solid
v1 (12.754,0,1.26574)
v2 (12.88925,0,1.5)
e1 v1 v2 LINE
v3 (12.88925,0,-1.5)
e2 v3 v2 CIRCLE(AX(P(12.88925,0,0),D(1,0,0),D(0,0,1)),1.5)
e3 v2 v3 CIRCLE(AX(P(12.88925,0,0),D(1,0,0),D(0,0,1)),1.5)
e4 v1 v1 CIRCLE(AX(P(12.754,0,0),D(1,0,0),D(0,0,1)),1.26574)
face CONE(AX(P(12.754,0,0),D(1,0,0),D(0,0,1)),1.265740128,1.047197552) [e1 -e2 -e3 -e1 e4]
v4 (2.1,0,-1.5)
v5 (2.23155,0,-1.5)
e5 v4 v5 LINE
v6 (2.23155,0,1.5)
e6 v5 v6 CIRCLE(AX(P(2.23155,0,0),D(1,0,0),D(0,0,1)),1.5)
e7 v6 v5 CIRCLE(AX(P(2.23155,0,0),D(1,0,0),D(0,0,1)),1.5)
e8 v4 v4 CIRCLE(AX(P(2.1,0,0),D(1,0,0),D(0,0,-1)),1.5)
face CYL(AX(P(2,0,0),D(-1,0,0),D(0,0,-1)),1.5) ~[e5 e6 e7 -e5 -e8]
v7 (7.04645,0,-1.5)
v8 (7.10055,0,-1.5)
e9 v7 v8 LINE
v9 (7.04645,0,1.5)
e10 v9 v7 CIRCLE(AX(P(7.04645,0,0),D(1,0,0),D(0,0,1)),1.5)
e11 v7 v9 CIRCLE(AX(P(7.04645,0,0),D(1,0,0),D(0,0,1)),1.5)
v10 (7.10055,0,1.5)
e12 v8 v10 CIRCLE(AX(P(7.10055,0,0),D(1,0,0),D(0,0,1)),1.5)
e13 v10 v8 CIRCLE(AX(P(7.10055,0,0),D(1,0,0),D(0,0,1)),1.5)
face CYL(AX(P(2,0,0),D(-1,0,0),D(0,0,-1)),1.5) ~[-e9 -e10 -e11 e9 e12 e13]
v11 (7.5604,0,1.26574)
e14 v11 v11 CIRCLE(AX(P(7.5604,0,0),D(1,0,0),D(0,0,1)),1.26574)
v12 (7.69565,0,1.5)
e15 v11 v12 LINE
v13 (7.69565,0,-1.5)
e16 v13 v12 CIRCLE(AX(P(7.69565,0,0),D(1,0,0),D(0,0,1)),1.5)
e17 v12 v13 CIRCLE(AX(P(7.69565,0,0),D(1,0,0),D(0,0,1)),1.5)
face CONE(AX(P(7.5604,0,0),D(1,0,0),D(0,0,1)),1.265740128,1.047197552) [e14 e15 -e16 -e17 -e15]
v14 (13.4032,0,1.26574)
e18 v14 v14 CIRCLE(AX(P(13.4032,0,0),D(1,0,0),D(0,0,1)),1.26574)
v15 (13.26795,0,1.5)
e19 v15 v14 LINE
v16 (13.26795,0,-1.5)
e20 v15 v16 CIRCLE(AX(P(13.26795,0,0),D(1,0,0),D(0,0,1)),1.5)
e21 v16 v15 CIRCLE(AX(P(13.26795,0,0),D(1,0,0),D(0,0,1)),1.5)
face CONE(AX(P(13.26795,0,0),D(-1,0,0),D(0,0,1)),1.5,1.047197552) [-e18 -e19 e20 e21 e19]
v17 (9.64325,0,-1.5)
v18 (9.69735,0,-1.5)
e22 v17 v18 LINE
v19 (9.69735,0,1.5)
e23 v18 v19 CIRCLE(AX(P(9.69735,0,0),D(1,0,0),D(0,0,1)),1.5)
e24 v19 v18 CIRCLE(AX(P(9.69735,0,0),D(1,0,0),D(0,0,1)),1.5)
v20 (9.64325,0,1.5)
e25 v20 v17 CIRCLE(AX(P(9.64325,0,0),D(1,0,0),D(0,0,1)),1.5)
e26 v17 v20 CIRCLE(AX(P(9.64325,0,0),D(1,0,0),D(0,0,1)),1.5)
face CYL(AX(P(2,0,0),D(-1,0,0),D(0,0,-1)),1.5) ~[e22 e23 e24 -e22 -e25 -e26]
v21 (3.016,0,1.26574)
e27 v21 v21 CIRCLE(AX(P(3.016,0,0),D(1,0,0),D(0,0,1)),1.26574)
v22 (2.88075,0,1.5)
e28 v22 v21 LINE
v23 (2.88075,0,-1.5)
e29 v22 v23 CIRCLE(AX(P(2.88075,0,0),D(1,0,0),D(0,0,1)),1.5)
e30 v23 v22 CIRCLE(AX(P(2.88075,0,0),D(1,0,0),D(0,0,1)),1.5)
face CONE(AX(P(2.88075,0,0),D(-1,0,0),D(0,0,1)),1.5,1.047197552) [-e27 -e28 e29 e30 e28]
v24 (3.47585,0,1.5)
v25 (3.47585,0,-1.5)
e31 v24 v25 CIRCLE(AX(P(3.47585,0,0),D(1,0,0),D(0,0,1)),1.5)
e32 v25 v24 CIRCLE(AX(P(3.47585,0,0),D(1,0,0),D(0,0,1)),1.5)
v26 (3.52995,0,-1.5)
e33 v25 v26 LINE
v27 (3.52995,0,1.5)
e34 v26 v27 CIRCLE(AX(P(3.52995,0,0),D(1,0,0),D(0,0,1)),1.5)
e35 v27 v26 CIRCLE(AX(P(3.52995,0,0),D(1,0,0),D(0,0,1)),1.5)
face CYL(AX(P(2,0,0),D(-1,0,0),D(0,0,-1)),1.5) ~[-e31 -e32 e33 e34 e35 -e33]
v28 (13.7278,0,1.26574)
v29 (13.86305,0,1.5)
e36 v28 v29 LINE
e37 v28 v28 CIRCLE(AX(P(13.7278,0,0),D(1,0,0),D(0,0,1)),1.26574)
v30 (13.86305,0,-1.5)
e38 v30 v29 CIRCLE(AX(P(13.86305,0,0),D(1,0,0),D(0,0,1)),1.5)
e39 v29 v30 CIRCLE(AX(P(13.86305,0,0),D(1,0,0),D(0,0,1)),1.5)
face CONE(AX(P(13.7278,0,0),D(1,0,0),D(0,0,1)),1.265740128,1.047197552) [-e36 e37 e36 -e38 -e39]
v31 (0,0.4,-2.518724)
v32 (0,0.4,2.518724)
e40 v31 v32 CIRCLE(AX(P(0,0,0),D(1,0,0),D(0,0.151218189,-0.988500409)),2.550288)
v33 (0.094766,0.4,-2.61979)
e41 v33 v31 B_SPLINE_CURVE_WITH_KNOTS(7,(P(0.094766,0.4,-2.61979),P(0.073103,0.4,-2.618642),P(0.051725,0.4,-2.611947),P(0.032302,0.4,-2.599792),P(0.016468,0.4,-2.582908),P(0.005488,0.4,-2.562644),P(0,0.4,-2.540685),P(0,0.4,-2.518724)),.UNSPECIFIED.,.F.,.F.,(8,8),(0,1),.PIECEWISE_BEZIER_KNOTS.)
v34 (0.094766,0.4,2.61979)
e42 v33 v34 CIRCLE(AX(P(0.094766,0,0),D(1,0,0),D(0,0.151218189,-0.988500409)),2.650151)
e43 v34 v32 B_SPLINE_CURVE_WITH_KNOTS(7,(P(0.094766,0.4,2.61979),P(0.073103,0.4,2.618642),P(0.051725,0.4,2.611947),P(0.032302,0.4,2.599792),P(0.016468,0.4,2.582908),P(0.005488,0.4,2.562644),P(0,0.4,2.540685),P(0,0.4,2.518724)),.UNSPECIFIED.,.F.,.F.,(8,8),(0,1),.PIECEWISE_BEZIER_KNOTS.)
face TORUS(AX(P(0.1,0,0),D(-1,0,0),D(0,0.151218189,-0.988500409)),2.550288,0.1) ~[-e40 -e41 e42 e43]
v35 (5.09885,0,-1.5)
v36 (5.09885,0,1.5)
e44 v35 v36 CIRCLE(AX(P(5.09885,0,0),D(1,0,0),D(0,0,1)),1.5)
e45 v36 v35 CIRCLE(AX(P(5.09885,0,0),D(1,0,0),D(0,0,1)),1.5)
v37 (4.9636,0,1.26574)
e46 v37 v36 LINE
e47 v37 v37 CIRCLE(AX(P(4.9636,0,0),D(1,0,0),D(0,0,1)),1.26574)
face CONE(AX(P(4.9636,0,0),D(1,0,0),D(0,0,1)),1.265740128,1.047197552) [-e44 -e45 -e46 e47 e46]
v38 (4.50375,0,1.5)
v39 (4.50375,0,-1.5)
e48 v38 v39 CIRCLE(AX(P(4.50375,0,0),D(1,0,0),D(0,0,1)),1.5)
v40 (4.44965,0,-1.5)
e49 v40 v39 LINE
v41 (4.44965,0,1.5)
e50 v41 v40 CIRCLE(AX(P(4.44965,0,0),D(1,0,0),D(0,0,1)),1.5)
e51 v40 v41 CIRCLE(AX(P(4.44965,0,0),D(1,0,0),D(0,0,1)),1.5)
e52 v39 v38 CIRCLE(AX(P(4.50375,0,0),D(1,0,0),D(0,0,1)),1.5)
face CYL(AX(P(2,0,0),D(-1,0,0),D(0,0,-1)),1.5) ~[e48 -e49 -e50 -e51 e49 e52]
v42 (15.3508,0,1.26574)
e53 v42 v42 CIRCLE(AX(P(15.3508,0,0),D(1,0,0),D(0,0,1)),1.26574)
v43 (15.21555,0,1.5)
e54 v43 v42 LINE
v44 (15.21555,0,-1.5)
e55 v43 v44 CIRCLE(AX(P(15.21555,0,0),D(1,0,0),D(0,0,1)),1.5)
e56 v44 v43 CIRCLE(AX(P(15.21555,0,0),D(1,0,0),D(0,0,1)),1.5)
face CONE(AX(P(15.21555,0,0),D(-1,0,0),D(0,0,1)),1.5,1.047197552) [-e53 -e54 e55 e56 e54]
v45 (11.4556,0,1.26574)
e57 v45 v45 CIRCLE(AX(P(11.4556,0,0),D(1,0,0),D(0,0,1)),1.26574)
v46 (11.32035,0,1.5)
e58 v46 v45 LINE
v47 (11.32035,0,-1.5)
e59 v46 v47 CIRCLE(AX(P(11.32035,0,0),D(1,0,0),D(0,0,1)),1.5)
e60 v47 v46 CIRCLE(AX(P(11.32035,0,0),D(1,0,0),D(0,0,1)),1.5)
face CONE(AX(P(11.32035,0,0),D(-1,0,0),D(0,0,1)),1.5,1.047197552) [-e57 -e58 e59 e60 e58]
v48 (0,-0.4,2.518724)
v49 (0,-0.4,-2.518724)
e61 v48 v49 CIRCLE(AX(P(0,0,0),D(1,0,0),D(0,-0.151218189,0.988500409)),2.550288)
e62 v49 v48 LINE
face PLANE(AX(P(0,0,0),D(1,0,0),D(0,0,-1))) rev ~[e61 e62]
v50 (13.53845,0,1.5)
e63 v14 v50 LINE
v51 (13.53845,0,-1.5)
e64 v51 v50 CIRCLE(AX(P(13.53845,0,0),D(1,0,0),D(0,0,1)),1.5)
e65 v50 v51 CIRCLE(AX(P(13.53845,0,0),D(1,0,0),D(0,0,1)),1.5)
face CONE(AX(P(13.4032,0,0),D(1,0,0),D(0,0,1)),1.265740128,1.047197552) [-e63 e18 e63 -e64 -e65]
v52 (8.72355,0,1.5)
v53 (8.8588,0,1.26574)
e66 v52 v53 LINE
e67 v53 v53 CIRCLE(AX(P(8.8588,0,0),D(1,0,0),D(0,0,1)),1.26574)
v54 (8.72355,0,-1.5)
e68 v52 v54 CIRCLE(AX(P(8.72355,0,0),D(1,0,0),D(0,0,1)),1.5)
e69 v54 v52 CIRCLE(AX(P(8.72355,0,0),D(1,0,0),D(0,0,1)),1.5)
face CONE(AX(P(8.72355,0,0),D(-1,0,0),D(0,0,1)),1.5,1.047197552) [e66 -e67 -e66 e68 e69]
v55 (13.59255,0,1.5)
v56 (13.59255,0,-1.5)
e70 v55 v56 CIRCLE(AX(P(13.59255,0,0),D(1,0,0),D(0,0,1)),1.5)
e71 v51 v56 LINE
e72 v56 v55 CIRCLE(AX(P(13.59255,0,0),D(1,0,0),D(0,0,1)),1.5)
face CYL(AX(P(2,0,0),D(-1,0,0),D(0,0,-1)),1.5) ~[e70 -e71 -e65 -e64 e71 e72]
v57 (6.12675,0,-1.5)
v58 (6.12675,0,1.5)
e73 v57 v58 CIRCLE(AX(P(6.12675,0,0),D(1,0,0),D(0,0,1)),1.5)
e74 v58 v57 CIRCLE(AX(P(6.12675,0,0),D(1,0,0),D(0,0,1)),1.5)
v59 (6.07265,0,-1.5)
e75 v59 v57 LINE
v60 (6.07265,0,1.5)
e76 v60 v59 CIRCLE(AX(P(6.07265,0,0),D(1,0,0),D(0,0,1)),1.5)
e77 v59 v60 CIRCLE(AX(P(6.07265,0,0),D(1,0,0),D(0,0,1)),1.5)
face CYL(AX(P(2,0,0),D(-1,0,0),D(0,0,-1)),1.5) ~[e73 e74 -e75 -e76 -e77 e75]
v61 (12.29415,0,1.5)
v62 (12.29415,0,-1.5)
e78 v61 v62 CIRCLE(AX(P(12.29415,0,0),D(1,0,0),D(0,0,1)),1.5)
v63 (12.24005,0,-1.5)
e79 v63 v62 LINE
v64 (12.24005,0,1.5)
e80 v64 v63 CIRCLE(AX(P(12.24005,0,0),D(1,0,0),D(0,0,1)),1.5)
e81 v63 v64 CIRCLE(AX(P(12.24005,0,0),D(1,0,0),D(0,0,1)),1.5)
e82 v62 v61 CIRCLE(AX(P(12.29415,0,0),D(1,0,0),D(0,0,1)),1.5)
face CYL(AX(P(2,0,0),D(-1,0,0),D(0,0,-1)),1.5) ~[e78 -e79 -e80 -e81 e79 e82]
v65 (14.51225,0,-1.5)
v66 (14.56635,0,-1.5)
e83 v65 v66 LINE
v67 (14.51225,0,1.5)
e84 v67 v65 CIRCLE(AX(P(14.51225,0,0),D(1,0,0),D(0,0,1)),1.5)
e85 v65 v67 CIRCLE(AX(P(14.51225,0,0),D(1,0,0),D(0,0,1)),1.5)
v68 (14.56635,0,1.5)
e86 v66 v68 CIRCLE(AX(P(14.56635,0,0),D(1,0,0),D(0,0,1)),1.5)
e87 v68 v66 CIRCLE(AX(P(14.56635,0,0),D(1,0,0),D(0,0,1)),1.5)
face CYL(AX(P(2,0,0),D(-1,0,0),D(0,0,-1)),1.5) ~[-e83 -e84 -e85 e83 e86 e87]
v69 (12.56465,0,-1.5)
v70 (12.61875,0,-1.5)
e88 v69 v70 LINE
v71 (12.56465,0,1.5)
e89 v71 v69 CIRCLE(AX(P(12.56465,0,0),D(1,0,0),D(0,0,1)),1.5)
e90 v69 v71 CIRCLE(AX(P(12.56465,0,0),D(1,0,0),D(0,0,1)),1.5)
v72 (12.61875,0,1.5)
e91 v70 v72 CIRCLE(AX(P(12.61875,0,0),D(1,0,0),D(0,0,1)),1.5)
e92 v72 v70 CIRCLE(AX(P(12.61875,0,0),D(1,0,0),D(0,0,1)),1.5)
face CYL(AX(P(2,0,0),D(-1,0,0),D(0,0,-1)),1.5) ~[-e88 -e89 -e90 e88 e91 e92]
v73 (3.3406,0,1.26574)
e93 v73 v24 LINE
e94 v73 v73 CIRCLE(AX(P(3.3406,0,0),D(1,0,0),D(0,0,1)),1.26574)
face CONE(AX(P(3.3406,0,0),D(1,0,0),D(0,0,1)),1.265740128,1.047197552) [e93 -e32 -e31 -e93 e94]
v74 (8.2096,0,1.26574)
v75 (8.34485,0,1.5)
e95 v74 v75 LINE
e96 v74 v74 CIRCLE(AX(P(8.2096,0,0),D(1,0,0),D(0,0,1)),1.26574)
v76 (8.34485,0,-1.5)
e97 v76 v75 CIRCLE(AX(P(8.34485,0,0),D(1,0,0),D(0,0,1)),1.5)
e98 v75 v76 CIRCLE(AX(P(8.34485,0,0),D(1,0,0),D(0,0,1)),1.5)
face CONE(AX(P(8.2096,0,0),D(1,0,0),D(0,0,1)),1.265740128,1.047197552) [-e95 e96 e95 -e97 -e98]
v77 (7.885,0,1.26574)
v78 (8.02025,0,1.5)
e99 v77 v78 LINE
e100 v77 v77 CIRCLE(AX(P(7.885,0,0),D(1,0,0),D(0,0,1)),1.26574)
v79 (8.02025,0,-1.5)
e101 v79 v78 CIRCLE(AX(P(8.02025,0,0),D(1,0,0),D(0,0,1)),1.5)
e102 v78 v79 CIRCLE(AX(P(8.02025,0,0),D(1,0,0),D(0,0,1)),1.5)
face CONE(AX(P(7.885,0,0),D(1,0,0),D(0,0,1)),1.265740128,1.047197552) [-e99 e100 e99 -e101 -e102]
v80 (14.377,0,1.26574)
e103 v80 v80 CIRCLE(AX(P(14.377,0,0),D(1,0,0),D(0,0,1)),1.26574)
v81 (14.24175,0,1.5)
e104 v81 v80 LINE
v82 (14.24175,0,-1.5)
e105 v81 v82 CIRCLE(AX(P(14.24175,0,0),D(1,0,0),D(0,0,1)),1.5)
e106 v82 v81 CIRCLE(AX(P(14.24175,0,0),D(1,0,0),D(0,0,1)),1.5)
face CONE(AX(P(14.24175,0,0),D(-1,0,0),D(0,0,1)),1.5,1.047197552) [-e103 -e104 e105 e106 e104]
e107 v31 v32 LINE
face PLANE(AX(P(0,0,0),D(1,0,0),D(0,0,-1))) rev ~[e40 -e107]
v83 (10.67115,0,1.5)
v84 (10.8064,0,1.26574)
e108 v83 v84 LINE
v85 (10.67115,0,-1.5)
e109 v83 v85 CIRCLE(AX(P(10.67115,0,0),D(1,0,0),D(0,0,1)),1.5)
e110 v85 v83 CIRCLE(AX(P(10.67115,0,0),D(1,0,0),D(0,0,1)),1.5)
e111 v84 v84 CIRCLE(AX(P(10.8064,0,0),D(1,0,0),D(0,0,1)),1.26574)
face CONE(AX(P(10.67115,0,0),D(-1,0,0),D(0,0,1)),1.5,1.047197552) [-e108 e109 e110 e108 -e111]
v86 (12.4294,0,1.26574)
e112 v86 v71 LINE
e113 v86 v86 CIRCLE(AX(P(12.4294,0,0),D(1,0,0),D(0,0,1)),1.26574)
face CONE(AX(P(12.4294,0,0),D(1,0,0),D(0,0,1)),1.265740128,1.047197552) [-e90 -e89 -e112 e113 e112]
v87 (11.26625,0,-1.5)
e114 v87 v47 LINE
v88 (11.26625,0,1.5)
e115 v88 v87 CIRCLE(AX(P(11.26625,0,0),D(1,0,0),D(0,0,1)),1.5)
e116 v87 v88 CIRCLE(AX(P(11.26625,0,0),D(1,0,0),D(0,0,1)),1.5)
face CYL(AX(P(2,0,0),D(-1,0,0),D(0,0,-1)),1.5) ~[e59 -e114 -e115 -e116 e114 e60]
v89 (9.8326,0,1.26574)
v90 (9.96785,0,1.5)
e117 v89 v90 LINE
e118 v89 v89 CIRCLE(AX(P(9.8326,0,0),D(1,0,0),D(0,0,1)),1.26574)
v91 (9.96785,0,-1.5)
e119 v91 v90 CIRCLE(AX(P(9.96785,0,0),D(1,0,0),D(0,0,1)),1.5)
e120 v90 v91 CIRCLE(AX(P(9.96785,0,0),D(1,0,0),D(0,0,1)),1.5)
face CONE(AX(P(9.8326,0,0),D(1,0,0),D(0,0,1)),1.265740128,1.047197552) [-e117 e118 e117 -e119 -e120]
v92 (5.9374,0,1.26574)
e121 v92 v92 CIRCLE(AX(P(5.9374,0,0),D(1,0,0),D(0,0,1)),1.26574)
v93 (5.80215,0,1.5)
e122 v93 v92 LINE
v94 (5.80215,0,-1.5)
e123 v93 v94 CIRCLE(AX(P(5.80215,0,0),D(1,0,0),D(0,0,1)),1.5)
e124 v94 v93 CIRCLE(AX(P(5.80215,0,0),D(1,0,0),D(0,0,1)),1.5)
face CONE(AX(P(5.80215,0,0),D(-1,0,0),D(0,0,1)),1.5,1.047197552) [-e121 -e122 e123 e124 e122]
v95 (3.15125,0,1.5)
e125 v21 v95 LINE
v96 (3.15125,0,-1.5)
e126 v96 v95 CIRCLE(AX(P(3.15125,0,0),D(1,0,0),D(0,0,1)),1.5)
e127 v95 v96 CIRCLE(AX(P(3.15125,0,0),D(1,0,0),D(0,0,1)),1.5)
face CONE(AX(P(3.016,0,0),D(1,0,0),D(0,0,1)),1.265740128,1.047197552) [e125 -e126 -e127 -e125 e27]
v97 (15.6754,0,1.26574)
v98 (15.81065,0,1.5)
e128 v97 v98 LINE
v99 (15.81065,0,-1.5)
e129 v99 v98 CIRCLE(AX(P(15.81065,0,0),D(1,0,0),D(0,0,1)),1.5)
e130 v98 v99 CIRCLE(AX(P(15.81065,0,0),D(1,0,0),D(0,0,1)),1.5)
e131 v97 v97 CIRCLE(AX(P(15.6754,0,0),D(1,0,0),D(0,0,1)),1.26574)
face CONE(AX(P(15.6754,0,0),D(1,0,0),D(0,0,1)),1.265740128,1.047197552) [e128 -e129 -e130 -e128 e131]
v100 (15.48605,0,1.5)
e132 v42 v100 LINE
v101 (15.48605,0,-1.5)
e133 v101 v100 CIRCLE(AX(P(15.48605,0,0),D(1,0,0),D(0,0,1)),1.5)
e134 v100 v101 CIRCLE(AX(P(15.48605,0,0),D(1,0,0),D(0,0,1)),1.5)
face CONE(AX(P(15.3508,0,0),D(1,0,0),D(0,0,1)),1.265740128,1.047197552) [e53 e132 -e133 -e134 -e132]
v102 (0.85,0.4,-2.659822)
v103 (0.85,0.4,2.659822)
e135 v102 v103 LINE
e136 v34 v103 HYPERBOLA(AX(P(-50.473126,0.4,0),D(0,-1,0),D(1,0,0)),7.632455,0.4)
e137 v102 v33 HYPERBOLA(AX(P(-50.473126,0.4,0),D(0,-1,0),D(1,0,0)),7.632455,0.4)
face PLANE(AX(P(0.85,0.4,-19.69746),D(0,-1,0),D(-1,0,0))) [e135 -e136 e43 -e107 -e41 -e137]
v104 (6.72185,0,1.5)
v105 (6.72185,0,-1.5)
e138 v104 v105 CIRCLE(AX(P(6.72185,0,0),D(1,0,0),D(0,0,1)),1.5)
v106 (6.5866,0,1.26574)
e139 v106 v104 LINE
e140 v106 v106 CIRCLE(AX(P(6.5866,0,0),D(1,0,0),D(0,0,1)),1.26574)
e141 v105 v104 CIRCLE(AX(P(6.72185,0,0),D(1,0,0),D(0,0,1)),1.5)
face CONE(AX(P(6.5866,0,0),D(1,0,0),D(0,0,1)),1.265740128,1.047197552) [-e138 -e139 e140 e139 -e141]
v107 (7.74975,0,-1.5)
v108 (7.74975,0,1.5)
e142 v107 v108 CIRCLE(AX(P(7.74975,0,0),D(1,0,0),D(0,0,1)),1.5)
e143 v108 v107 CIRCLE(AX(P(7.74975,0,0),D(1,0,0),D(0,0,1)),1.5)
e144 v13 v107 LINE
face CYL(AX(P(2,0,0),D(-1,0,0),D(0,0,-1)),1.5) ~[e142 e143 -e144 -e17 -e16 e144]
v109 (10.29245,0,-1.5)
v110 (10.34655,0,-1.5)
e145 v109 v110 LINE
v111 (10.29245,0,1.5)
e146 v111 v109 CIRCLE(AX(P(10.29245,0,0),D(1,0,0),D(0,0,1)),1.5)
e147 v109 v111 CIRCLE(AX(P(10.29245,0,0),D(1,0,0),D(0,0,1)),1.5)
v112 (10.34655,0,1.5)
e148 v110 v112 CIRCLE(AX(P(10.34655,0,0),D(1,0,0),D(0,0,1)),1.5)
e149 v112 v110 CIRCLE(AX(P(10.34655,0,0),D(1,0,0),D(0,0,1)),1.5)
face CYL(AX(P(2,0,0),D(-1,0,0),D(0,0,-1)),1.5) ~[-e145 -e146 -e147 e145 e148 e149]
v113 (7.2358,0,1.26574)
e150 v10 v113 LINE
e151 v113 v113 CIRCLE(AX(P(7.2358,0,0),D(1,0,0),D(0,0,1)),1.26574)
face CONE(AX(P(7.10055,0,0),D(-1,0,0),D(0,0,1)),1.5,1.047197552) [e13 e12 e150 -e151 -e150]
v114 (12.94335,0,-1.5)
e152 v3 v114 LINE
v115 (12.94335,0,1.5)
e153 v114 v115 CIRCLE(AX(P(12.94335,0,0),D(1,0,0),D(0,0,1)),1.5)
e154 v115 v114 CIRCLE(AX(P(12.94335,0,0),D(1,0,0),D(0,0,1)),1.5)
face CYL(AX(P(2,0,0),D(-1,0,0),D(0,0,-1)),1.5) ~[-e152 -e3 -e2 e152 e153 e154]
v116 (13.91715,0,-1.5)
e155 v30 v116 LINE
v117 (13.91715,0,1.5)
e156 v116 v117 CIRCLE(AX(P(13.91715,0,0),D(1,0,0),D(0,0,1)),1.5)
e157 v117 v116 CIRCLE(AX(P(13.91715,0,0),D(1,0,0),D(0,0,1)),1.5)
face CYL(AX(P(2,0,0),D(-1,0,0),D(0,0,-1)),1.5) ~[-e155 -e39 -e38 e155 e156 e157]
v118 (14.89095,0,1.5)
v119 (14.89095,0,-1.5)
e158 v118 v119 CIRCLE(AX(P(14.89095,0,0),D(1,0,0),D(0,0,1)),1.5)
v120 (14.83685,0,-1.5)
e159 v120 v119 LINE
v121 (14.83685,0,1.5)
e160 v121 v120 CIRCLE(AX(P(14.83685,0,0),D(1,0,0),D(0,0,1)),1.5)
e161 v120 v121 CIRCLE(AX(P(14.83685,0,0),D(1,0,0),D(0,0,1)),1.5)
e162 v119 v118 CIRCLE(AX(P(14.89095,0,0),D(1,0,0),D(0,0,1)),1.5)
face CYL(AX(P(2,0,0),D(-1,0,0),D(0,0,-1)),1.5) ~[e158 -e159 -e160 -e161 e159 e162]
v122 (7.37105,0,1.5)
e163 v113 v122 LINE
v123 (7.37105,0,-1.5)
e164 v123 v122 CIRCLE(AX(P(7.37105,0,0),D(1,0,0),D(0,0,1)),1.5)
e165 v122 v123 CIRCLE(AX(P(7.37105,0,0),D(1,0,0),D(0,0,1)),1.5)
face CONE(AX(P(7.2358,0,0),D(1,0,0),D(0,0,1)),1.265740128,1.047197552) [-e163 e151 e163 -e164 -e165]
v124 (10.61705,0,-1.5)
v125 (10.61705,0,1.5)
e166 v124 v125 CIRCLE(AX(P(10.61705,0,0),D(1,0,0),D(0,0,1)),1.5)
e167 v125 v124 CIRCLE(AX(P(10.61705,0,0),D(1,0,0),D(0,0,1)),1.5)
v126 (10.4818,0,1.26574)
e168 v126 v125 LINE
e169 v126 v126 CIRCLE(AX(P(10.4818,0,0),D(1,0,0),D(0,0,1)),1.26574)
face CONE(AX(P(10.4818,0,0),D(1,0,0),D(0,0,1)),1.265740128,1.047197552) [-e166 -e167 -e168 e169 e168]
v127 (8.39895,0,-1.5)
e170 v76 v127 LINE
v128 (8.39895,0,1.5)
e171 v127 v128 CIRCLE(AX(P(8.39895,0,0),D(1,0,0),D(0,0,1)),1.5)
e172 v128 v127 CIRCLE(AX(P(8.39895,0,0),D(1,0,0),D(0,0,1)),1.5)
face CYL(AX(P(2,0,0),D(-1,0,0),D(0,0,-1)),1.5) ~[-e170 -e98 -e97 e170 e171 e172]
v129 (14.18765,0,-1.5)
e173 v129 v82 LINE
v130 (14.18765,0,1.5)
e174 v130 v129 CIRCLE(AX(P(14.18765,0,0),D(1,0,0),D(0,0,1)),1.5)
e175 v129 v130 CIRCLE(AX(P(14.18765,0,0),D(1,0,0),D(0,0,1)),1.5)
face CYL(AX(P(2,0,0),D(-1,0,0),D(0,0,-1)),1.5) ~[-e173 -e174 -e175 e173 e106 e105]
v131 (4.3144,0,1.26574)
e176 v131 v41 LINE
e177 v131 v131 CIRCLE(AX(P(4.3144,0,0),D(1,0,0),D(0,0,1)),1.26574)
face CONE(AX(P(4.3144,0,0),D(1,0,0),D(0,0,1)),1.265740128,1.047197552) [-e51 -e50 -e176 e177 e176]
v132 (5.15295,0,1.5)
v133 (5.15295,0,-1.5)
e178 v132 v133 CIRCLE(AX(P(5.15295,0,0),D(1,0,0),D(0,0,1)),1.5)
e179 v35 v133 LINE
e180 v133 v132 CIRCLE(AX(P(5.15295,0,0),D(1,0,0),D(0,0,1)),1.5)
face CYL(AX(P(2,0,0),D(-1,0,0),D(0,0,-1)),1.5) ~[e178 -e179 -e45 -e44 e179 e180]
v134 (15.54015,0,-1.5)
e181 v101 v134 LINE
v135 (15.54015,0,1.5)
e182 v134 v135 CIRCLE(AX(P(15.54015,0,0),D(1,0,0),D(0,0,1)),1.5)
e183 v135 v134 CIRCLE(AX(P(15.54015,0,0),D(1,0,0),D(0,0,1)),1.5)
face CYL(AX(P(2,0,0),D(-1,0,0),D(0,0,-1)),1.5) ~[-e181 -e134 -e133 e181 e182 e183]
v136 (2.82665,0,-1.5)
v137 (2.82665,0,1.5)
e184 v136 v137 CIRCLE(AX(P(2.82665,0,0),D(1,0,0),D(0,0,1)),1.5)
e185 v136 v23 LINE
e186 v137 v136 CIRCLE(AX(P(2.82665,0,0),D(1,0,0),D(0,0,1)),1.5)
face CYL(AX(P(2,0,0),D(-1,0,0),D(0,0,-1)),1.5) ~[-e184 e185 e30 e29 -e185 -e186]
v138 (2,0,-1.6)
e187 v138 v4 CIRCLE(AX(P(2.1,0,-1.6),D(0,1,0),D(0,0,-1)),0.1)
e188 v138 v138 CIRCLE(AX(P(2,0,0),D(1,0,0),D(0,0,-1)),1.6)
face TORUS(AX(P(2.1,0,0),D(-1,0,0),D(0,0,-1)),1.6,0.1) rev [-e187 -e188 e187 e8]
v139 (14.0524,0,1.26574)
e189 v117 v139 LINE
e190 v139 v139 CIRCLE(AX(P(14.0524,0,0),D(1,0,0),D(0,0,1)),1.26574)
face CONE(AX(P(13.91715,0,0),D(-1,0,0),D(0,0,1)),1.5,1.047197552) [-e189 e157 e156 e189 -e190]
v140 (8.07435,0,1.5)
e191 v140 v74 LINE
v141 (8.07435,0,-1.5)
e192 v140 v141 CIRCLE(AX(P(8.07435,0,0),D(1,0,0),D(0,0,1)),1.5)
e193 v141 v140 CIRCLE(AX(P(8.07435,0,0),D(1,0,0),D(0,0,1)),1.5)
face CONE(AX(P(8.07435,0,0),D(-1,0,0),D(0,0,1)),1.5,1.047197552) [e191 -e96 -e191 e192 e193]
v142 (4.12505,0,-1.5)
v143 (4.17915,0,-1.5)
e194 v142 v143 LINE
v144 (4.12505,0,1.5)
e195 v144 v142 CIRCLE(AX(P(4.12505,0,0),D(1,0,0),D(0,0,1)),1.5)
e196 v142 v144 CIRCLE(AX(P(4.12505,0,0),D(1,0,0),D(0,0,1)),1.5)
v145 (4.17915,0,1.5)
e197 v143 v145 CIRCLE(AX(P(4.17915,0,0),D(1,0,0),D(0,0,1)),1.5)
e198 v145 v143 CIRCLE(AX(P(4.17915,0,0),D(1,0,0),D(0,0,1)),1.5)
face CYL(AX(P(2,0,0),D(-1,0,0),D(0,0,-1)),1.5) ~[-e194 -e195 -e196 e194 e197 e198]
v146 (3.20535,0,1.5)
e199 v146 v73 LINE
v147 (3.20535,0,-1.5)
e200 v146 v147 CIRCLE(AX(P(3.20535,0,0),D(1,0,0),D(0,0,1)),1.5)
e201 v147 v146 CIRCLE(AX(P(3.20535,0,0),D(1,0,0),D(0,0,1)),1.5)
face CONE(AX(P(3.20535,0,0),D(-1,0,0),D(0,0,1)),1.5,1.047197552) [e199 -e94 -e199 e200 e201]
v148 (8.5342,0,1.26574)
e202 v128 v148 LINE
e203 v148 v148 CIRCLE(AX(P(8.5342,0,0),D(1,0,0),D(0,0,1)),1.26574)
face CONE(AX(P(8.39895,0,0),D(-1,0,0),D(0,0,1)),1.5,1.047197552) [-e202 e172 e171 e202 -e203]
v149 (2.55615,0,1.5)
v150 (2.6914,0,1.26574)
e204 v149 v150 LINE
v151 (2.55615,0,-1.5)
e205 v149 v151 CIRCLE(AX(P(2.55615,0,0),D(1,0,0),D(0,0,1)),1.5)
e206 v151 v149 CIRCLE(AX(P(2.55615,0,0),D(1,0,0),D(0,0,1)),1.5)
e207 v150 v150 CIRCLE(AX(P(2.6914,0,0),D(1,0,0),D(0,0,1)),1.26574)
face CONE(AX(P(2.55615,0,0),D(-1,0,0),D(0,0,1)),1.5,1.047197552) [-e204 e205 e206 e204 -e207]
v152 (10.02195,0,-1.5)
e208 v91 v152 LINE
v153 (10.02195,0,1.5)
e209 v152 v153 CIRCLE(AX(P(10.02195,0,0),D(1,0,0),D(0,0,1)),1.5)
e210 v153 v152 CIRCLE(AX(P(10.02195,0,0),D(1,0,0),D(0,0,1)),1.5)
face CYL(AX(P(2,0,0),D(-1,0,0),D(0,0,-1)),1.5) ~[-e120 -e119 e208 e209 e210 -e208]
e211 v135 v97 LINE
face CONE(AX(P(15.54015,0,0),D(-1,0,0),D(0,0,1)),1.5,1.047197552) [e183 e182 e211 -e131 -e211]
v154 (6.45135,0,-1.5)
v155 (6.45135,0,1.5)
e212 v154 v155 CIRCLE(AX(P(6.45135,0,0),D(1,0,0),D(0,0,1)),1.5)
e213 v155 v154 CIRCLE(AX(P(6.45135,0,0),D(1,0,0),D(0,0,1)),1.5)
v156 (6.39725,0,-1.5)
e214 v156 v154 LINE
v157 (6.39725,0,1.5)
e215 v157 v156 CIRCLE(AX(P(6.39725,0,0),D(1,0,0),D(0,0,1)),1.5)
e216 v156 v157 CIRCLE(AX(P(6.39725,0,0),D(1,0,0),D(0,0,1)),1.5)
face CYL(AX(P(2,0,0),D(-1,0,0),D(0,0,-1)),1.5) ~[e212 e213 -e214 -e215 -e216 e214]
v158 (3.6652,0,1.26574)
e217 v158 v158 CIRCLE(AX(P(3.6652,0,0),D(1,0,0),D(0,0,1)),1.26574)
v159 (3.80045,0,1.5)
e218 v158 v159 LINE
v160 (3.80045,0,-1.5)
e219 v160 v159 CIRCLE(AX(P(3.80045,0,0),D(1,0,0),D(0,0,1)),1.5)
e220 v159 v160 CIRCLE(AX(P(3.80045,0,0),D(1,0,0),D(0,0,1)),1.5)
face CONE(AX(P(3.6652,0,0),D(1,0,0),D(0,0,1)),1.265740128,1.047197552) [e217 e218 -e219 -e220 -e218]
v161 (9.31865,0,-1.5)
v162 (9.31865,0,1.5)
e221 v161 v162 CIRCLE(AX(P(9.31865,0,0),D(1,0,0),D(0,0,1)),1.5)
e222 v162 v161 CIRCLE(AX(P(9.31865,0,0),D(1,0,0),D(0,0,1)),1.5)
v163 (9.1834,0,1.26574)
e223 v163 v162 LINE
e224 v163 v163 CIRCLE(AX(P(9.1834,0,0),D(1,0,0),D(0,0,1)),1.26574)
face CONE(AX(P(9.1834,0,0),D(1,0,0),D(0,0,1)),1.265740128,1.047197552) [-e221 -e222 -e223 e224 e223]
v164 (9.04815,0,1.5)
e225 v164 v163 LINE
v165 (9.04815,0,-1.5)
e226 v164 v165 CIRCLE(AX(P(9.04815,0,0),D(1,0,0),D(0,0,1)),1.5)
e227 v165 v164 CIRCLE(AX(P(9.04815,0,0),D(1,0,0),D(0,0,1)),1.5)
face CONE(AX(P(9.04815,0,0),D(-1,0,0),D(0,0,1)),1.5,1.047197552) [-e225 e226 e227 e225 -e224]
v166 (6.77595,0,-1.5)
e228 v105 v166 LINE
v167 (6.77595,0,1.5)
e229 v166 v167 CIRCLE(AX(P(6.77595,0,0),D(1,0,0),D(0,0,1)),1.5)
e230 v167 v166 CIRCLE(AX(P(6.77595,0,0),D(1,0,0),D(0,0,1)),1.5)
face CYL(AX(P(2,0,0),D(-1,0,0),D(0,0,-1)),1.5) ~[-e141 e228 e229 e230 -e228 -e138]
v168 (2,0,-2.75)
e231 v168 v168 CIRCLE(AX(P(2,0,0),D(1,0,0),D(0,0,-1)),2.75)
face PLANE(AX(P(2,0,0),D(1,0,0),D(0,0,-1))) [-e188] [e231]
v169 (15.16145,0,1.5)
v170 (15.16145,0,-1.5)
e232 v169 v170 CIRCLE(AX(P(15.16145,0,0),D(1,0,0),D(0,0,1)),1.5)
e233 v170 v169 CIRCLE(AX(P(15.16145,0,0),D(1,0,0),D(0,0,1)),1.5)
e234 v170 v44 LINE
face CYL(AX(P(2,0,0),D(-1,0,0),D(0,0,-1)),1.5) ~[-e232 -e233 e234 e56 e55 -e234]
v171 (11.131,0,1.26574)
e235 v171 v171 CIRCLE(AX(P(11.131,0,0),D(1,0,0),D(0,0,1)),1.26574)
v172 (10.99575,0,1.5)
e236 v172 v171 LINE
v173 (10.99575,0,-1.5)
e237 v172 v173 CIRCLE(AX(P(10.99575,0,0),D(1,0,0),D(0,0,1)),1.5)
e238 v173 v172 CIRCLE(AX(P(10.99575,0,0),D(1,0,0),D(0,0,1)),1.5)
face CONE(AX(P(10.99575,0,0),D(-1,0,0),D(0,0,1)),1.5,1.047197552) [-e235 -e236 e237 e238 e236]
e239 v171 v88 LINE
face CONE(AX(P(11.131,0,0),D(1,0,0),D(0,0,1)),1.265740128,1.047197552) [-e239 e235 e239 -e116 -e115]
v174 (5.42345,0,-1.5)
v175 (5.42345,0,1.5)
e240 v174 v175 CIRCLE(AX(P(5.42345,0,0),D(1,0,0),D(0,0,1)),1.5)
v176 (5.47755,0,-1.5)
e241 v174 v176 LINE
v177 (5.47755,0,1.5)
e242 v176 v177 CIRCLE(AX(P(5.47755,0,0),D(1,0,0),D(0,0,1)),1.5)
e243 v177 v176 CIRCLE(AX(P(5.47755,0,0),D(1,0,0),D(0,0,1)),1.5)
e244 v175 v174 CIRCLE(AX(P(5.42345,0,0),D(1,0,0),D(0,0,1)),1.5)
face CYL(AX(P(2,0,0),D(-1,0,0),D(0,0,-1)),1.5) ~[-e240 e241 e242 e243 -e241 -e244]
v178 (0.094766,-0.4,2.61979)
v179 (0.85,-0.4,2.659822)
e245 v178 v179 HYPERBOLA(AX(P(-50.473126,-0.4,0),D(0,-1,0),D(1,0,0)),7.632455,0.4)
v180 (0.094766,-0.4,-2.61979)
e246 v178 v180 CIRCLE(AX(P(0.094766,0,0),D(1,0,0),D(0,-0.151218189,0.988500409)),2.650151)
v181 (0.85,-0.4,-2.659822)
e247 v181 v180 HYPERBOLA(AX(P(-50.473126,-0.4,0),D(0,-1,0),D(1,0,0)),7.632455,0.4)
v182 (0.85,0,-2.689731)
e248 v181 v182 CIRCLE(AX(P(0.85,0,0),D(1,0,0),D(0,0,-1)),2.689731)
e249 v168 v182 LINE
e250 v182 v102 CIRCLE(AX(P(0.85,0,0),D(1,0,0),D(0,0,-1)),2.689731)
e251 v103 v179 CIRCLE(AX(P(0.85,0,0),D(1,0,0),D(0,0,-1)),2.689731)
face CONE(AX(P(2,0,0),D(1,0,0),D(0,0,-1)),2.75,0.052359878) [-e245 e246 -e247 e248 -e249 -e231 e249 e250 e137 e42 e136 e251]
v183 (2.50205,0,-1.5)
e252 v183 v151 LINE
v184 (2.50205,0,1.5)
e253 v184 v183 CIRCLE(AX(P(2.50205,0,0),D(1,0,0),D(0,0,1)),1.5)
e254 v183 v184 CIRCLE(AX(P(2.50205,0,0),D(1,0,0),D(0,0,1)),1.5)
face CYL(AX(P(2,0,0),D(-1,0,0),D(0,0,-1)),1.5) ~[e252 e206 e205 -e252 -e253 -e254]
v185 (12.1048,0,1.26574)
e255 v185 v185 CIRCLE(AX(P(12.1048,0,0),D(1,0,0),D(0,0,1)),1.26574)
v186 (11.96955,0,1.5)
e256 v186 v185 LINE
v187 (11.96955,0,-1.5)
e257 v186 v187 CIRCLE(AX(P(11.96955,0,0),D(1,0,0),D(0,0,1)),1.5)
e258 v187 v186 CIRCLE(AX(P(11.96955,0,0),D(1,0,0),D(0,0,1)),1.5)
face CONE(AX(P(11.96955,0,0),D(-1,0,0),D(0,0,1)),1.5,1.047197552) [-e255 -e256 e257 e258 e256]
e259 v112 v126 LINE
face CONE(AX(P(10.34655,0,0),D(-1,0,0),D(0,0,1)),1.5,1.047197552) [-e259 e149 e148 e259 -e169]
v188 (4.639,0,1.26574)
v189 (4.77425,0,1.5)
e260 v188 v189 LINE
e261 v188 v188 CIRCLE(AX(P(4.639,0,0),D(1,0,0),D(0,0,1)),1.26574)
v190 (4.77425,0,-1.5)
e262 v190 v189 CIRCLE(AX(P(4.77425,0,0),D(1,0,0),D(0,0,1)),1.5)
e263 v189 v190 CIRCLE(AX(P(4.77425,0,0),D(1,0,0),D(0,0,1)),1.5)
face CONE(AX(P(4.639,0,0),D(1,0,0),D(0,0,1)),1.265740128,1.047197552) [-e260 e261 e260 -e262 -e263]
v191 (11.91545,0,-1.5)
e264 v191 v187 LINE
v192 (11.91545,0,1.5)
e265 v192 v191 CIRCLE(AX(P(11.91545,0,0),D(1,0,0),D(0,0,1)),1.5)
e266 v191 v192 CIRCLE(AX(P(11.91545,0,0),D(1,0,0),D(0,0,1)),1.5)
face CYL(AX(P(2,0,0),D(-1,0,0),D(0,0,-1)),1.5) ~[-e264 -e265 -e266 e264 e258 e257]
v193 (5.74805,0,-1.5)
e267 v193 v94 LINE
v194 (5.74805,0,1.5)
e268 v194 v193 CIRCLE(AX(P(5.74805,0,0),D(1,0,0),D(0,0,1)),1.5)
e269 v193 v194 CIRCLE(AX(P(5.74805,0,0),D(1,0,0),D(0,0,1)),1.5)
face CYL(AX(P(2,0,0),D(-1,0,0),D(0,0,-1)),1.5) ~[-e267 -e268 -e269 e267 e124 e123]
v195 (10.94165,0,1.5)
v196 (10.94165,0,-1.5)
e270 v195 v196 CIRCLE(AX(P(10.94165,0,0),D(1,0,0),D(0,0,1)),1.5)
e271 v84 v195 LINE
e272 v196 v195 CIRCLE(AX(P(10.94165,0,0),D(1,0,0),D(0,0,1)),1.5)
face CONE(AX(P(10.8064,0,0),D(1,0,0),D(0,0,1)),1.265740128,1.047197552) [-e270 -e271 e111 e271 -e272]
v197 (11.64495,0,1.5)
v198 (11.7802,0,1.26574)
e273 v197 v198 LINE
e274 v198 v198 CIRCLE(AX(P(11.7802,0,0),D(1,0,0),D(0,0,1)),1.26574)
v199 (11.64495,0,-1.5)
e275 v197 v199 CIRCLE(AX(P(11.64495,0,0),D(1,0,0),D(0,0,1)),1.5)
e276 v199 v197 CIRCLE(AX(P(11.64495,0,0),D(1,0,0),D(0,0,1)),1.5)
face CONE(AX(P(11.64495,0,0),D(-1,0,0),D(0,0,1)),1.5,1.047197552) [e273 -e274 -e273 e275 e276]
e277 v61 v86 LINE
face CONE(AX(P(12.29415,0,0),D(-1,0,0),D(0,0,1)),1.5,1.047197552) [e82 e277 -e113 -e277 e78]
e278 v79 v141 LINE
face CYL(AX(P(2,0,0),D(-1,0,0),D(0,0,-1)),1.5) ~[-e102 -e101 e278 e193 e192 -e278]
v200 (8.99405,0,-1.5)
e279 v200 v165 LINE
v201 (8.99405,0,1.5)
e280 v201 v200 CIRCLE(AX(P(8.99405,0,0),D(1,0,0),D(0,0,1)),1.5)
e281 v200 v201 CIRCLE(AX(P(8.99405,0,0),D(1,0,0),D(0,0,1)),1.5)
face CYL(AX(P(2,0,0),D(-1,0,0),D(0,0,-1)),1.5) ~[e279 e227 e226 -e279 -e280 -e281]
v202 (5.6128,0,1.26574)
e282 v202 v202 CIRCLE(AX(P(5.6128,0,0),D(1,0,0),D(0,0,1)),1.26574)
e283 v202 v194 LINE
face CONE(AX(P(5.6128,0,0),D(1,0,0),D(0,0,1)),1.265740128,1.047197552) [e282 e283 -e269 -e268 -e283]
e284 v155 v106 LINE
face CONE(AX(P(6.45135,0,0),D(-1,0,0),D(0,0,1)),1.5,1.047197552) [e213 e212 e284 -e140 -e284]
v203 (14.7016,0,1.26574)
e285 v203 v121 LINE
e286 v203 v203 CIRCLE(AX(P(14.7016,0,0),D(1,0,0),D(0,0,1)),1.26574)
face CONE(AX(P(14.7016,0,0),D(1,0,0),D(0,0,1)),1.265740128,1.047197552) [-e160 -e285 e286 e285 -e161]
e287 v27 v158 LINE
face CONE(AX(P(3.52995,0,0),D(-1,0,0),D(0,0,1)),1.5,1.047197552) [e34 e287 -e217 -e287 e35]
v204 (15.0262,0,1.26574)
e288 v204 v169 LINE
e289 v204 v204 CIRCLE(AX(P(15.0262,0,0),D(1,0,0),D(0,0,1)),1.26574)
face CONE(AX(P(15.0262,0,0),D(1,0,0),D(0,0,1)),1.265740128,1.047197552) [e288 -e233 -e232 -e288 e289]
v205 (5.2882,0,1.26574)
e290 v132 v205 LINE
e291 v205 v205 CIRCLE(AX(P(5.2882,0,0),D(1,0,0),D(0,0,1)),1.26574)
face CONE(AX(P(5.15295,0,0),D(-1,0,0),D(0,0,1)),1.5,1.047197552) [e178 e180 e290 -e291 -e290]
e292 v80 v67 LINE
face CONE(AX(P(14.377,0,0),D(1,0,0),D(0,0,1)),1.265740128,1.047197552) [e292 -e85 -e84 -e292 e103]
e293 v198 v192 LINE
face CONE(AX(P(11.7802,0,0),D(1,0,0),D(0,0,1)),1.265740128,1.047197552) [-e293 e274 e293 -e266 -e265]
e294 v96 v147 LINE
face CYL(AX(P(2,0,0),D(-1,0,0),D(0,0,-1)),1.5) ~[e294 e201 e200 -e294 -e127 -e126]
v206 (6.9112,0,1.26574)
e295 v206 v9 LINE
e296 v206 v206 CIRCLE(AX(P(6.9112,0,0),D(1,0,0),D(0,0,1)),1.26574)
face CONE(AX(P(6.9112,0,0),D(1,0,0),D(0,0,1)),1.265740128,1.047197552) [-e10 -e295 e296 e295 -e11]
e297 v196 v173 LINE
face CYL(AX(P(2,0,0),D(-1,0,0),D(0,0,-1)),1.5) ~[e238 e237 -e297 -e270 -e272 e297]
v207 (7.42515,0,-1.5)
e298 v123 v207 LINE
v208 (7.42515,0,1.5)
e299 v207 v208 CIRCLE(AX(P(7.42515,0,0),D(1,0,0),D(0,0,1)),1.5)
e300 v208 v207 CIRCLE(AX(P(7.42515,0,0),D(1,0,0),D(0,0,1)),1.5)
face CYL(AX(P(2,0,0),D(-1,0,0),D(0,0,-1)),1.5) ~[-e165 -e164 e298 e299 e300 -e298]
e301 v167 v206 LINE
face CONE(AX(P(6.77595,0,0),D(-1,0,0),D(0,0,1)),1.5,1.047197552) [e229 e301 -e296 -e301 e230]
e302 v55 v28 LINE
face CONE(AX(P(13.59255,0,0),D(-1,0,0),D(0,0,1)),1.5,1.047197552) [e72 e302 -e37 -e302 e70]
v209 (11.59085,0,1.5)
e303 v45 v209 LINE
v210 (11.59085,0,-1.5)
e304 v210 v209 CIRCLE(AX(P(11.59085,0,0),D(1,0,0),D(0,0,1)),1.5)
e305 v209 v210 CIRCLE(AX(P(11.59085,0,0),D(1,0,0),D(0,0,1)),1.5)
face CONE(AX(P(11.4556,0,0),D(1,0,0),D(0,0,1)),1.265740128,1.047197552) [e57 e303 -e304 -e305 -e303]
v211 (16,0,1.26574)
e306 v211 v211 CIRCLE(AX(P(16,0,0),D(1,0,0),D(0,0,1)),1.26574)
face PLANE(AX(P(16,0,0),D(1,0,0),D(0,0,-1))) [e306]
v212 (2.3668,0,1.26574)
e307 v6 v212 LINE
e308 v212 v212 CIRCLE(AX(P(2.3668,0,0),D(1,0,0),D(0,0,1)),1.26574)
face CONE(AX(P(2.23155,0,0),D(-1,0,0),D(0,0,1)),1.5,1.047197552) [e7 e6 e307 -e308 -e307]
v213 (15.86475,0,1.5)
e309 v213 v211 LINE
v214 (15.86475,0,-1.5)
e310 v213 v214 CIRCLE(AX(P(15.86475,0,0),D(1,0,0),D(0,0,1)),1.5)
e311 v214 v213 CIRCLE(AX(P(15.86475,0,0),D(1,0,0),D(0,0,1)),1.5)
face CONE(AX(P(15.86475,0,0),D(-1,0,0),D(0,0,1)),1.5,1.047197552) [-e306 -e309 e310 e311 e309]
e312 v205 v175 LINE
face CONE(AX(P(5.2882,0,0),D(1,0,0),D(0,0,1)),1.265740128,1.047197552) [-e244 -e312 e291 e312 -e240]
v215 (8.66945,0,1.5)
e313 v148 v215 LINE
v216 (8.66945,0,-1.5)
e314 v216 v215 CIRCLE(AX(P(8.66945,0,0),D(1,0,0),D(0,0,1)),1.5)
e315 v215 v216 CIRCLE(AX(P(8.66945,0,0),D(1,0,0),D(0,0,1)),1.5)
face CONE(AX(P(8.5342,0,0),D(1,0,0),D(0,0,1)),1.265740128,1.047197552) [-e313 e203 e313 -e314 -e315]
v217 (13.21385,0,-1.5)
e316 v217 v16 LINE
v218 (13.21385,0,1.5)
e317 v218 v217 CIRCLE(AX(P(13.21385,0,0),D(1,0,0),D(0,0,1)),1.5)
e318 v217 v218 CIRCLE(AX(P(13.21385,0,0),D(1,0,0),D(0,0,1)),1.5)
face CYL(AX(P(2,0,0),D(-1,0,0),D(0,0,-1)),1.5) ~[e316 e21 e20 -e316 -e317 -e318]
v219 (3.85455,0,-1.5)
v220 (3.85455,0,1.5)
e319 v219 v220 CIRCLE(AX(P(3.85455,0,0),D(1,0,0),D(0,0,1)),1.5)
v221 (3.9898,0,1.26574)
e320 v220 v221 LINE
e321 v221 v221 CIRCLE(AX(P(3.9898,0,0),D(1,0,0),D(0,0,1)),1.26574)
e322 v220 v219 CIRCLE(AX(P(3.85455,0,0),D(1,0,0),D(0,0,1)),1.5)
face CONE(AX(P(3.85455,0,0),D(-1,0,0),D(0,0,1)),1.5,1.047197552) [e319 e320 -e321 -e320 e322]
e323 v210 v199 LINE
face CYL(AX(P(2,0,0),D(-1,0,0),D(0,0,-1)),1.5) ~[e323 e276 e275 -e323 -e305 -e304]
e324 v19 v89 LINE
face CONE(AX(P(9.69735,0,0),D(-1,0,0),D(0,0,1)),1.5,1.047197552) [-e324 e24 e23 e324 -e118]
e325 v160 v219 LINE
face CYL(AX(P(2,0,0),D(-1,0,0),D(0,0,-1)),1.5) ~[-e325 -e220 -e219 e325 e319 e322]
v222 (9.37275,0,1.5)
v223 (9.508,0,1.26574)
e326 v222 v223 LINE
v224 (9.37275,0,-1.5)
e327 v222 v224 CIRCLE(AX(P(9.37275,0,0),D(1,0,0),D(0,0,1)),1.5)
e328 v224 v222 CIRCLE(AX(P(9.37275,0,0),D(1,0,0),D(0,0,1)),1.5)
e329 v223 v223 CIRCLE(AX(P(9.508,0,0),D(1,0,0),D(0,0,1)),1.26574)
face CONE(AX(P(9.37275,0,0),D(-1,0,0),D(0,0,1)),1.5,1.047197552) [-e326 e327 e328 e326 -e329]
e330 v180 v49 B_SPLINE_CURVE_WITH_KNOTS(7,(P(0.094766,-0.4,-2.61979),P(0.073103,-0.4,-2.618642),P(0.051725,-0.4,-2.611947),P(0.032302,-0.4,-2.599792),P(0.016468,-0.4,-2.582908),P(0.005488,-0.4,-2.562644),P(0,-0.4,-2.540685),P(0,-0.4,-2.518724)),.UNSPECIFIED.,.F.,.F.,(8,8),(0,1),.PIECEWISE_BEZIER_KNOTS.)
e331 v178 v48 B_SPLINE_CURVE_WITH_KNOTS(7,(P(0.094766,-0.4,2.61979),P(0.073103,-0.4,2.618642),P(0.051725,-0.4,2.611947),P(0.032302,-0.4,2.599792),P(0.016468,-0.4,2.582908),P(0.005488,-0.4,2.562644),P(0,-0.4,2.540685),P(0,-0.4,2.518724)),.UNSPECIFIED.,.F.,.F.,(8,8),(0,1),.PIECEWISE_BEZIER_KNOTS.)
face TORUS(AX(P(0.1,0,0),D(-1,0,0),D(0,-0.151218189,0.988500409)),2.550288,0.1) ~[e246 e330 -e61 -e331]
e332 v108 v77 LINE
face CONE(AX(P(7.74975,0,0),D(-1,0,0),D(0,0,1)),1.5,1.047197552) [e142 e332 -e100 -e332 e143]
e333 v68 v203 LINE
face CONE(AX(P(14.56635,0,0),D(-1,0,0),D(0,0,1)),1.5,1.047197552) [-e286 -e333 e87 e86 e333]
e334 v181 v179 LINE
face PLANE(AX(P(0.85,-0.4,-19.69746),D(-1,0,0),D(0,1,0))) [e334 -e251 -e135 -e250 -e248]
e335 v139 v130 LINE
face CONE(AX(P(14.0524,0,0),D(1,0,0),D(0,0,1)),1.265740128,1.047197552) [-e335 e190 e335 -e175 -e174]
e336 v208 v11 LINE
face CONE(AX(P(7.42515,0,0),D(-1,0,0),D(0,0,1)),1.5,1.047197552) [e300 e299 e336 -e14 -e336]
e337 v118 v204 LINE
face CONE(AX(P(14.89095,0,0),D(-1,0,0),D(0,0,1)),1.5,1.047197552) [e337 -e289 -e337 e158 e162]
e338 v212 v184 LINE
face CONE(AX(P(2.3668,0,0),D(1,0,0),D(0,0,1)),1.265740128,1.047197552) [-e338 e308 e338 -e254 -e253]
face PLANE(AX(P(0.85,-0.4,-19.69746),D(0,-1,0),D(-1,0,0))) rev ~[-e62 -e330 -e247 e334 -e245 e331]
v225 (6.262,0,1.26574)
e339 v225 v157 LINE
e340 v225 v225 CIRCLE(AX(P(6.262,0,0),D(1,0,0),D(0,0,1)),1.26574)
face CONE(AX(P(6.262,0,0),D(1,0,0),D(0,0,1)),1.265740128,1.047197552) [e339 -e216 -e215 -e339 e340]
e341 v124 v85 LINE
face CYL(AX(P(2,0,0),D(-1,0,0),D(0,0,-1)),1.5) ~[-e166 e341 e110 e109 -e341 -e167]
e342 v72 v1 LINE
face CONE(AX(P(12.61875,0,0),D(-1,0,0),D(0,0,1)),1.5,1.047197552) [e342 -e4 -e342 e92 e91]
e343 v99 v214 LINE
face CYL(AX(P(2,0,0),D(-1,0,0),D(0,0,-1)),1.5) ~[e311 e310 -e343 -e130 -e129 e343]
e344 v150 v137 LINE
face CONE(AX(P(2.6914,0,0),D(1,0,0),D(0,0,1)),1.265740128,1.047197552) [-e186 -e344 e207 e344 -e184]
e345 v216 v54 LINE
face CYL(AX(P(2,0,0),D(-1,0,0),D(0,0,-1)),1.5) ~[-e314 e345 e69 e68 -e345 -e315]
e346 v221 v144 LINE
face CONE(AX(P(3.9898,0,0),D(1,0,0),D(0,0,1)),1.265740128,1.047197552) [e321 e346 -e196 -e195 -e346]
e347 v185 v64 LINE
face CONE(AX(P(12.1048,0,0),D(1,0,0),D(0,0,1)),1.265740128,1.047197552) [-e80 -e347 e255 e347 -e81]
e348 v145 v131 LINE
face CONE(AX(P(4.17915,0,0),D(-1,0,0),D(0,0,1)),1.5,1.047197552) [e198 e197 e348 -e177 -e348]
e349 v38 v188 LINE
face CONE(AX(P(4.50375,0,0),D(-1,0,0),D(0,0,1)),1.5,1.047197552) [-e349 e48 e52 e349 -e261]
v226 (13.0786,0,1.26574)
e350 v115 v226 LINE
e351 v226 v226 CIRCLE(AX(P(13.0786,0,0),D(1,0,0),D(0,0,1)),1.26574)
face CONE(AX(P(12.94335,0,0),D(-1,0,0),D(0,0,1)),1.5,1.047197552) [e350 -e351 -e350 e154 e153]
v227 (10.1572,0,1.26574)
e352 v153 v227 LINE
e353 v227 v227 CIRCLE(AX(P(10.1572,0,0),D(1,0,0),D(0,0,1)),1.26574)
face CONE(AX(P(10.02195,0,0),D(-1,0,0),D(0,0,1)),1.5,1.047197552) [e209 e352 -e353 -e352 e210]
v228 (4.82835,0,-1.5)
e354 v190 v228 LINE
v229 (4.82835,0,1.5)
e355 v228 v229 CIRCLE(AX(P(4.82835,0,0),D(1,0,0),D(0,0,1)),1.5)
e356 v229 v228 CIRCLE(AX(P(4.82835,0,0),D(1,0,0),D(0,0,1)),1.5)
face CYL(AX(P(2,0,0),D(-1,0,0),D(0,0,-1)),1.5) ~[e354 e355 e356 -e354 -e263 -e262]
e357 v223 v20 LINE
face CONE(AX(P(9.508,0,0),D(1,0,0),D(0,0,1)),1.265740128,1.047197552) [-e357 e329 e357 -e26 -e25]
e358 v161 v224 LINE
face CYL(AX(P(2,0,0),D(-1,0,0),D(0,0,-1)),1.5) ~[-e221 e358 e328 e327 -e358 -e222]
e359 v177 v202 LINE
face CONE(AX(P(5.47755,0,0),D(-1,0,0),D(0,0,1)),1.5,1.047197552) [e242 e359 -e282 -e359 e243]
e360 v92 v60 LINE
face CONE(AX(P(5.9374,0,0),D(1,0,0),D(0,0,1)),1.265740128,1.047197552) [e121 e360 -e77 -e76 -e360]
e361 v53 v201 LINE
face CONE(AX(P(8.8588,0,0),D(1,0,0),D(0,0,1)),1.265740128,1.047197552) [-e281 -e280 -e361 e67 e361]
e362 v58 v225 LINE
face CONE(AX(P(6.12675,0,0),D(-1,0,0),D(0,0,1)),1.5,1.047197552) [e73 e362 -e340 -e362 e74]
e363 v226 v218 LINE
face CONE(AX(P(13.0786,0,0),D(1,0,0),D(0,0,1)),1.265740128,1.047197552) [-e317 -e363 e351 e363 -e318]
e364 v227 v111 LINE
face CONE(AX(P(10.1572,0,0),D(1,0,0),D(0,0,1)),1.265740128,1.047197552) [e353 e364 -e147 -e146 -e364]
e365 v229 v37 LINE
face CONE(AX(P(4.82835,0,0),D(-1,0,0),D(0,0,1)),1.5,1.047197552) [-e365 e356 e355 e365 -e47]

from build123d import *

# Parameters (mm, degrees)
SKETCH2_R        = 2.75
BASEHEAD_DEPTH   = 2
BASEHEAD_DRAFT   = -3
SKETCH3_R        = 1.5
BASEBODY_DEPTH   = 14
SLOT_DEPTH       = 19.69745972
SLOT_DEPTH_BACK  = 19.69745972
SKETCH4_W        = 0.8
SKETCH4_H        = 0.85
HEADFILLET_R     = 0.1
LPATTERN10_COUNT = 43
LPATTERN10_PITCH = 0.3246


with BuildPart() as part:
    # Sketch2 → BaseHead (with draft: the straight prism first)
    with BuildSketch(Plane(origin=(2, 0, 0), x_dir=(0, 0, -1), z_dir=(1, 0, 0))):
        Circle(SKETCH2_R)
    extrude(amount=-BASEHEAD_DEPTH)
    # BaseHead: the draft: its side faces are tilted about the plane it starts from
    basehead_sides = [part.faces().sort_by_distance(p)[0] for p in [
        (1, 0, 2.75),
    ]]
    draft(basehead_sides, Plane(origin=(2, 0, 0), x_dir=(0, 0, -1), z_dir=(1, 0, 0)), BASEHEAD_DRAFT)

    # Sketch3 → BaseBody (add)
    with BuildSketch(Plane(origin=(2, -1.110095321, -1.354392991), x_dir=(0, 0, -1), z_dir=(1, 0, 0))):
        with Locations((-1.354392991, 1.110095321)):
            Circle(SKETCH3_R)
    extrude(amount=BASEBODY_DEPTH)

    # Sketch4 → Slot (cut, two sides: drawn at the far end of the back side and taken through both)
    with BuildSketch(Plane(origin=(-1.9, -1.9, 0), x_dir=(0, 1, 0), z_dir=(0, 0, 1)).offset(-SLOT_DEPTH_BACK)):
        with Locations((1.9, -2.325)):
            Rectangle(SKETCH4_W, SKETCH4_H)
    extrude(amount=SLOT_DEPTH + SLOT_DEPTH_BACK, mode=Mode.SUBTRACT)

    # HeadFillet
    headfillet_edges = [part.edges().sort_by_distance(p)[0] for p in [
        (2, 0, 1.5),
        (0, -2.645184441, 0),
        (0, 2.645184441, 0),
    ]]
    fillet(headfillet_edges, radius=HEADFILLET_R)

    # Sketch5 → Cut-Revolve10 (revolve, cut)
    with BuildSketch(Plane.XY, mode=Mode.PRIVATE) as cut_revolve10_sk:
        Polygon((16.13525, 1.5), (16.13525, 1.7705), (15.86475, 1.7705), (15.86475, 1.5), (16, 1.265740128), align=None)
    cut_revolve10 = revolve(cut_revolve10_sk.sketch.rotate(Axis((0, 0, 0), (1, 0, 0)), 90), axis=Axis((0, 0, 0), (1, 0, 0)), mode=Mode.SUBTRACT)

    # LPattern10: Cut-Revolve10 ×43
    with Locations(*[(-i * LPATTERN10_PITCH, 0, 0) for i in range(1, LPATTERN10_COUNT)]):
        add(cut_revolve10, mode=Mode.SUBTRACT)


solid = part.part
